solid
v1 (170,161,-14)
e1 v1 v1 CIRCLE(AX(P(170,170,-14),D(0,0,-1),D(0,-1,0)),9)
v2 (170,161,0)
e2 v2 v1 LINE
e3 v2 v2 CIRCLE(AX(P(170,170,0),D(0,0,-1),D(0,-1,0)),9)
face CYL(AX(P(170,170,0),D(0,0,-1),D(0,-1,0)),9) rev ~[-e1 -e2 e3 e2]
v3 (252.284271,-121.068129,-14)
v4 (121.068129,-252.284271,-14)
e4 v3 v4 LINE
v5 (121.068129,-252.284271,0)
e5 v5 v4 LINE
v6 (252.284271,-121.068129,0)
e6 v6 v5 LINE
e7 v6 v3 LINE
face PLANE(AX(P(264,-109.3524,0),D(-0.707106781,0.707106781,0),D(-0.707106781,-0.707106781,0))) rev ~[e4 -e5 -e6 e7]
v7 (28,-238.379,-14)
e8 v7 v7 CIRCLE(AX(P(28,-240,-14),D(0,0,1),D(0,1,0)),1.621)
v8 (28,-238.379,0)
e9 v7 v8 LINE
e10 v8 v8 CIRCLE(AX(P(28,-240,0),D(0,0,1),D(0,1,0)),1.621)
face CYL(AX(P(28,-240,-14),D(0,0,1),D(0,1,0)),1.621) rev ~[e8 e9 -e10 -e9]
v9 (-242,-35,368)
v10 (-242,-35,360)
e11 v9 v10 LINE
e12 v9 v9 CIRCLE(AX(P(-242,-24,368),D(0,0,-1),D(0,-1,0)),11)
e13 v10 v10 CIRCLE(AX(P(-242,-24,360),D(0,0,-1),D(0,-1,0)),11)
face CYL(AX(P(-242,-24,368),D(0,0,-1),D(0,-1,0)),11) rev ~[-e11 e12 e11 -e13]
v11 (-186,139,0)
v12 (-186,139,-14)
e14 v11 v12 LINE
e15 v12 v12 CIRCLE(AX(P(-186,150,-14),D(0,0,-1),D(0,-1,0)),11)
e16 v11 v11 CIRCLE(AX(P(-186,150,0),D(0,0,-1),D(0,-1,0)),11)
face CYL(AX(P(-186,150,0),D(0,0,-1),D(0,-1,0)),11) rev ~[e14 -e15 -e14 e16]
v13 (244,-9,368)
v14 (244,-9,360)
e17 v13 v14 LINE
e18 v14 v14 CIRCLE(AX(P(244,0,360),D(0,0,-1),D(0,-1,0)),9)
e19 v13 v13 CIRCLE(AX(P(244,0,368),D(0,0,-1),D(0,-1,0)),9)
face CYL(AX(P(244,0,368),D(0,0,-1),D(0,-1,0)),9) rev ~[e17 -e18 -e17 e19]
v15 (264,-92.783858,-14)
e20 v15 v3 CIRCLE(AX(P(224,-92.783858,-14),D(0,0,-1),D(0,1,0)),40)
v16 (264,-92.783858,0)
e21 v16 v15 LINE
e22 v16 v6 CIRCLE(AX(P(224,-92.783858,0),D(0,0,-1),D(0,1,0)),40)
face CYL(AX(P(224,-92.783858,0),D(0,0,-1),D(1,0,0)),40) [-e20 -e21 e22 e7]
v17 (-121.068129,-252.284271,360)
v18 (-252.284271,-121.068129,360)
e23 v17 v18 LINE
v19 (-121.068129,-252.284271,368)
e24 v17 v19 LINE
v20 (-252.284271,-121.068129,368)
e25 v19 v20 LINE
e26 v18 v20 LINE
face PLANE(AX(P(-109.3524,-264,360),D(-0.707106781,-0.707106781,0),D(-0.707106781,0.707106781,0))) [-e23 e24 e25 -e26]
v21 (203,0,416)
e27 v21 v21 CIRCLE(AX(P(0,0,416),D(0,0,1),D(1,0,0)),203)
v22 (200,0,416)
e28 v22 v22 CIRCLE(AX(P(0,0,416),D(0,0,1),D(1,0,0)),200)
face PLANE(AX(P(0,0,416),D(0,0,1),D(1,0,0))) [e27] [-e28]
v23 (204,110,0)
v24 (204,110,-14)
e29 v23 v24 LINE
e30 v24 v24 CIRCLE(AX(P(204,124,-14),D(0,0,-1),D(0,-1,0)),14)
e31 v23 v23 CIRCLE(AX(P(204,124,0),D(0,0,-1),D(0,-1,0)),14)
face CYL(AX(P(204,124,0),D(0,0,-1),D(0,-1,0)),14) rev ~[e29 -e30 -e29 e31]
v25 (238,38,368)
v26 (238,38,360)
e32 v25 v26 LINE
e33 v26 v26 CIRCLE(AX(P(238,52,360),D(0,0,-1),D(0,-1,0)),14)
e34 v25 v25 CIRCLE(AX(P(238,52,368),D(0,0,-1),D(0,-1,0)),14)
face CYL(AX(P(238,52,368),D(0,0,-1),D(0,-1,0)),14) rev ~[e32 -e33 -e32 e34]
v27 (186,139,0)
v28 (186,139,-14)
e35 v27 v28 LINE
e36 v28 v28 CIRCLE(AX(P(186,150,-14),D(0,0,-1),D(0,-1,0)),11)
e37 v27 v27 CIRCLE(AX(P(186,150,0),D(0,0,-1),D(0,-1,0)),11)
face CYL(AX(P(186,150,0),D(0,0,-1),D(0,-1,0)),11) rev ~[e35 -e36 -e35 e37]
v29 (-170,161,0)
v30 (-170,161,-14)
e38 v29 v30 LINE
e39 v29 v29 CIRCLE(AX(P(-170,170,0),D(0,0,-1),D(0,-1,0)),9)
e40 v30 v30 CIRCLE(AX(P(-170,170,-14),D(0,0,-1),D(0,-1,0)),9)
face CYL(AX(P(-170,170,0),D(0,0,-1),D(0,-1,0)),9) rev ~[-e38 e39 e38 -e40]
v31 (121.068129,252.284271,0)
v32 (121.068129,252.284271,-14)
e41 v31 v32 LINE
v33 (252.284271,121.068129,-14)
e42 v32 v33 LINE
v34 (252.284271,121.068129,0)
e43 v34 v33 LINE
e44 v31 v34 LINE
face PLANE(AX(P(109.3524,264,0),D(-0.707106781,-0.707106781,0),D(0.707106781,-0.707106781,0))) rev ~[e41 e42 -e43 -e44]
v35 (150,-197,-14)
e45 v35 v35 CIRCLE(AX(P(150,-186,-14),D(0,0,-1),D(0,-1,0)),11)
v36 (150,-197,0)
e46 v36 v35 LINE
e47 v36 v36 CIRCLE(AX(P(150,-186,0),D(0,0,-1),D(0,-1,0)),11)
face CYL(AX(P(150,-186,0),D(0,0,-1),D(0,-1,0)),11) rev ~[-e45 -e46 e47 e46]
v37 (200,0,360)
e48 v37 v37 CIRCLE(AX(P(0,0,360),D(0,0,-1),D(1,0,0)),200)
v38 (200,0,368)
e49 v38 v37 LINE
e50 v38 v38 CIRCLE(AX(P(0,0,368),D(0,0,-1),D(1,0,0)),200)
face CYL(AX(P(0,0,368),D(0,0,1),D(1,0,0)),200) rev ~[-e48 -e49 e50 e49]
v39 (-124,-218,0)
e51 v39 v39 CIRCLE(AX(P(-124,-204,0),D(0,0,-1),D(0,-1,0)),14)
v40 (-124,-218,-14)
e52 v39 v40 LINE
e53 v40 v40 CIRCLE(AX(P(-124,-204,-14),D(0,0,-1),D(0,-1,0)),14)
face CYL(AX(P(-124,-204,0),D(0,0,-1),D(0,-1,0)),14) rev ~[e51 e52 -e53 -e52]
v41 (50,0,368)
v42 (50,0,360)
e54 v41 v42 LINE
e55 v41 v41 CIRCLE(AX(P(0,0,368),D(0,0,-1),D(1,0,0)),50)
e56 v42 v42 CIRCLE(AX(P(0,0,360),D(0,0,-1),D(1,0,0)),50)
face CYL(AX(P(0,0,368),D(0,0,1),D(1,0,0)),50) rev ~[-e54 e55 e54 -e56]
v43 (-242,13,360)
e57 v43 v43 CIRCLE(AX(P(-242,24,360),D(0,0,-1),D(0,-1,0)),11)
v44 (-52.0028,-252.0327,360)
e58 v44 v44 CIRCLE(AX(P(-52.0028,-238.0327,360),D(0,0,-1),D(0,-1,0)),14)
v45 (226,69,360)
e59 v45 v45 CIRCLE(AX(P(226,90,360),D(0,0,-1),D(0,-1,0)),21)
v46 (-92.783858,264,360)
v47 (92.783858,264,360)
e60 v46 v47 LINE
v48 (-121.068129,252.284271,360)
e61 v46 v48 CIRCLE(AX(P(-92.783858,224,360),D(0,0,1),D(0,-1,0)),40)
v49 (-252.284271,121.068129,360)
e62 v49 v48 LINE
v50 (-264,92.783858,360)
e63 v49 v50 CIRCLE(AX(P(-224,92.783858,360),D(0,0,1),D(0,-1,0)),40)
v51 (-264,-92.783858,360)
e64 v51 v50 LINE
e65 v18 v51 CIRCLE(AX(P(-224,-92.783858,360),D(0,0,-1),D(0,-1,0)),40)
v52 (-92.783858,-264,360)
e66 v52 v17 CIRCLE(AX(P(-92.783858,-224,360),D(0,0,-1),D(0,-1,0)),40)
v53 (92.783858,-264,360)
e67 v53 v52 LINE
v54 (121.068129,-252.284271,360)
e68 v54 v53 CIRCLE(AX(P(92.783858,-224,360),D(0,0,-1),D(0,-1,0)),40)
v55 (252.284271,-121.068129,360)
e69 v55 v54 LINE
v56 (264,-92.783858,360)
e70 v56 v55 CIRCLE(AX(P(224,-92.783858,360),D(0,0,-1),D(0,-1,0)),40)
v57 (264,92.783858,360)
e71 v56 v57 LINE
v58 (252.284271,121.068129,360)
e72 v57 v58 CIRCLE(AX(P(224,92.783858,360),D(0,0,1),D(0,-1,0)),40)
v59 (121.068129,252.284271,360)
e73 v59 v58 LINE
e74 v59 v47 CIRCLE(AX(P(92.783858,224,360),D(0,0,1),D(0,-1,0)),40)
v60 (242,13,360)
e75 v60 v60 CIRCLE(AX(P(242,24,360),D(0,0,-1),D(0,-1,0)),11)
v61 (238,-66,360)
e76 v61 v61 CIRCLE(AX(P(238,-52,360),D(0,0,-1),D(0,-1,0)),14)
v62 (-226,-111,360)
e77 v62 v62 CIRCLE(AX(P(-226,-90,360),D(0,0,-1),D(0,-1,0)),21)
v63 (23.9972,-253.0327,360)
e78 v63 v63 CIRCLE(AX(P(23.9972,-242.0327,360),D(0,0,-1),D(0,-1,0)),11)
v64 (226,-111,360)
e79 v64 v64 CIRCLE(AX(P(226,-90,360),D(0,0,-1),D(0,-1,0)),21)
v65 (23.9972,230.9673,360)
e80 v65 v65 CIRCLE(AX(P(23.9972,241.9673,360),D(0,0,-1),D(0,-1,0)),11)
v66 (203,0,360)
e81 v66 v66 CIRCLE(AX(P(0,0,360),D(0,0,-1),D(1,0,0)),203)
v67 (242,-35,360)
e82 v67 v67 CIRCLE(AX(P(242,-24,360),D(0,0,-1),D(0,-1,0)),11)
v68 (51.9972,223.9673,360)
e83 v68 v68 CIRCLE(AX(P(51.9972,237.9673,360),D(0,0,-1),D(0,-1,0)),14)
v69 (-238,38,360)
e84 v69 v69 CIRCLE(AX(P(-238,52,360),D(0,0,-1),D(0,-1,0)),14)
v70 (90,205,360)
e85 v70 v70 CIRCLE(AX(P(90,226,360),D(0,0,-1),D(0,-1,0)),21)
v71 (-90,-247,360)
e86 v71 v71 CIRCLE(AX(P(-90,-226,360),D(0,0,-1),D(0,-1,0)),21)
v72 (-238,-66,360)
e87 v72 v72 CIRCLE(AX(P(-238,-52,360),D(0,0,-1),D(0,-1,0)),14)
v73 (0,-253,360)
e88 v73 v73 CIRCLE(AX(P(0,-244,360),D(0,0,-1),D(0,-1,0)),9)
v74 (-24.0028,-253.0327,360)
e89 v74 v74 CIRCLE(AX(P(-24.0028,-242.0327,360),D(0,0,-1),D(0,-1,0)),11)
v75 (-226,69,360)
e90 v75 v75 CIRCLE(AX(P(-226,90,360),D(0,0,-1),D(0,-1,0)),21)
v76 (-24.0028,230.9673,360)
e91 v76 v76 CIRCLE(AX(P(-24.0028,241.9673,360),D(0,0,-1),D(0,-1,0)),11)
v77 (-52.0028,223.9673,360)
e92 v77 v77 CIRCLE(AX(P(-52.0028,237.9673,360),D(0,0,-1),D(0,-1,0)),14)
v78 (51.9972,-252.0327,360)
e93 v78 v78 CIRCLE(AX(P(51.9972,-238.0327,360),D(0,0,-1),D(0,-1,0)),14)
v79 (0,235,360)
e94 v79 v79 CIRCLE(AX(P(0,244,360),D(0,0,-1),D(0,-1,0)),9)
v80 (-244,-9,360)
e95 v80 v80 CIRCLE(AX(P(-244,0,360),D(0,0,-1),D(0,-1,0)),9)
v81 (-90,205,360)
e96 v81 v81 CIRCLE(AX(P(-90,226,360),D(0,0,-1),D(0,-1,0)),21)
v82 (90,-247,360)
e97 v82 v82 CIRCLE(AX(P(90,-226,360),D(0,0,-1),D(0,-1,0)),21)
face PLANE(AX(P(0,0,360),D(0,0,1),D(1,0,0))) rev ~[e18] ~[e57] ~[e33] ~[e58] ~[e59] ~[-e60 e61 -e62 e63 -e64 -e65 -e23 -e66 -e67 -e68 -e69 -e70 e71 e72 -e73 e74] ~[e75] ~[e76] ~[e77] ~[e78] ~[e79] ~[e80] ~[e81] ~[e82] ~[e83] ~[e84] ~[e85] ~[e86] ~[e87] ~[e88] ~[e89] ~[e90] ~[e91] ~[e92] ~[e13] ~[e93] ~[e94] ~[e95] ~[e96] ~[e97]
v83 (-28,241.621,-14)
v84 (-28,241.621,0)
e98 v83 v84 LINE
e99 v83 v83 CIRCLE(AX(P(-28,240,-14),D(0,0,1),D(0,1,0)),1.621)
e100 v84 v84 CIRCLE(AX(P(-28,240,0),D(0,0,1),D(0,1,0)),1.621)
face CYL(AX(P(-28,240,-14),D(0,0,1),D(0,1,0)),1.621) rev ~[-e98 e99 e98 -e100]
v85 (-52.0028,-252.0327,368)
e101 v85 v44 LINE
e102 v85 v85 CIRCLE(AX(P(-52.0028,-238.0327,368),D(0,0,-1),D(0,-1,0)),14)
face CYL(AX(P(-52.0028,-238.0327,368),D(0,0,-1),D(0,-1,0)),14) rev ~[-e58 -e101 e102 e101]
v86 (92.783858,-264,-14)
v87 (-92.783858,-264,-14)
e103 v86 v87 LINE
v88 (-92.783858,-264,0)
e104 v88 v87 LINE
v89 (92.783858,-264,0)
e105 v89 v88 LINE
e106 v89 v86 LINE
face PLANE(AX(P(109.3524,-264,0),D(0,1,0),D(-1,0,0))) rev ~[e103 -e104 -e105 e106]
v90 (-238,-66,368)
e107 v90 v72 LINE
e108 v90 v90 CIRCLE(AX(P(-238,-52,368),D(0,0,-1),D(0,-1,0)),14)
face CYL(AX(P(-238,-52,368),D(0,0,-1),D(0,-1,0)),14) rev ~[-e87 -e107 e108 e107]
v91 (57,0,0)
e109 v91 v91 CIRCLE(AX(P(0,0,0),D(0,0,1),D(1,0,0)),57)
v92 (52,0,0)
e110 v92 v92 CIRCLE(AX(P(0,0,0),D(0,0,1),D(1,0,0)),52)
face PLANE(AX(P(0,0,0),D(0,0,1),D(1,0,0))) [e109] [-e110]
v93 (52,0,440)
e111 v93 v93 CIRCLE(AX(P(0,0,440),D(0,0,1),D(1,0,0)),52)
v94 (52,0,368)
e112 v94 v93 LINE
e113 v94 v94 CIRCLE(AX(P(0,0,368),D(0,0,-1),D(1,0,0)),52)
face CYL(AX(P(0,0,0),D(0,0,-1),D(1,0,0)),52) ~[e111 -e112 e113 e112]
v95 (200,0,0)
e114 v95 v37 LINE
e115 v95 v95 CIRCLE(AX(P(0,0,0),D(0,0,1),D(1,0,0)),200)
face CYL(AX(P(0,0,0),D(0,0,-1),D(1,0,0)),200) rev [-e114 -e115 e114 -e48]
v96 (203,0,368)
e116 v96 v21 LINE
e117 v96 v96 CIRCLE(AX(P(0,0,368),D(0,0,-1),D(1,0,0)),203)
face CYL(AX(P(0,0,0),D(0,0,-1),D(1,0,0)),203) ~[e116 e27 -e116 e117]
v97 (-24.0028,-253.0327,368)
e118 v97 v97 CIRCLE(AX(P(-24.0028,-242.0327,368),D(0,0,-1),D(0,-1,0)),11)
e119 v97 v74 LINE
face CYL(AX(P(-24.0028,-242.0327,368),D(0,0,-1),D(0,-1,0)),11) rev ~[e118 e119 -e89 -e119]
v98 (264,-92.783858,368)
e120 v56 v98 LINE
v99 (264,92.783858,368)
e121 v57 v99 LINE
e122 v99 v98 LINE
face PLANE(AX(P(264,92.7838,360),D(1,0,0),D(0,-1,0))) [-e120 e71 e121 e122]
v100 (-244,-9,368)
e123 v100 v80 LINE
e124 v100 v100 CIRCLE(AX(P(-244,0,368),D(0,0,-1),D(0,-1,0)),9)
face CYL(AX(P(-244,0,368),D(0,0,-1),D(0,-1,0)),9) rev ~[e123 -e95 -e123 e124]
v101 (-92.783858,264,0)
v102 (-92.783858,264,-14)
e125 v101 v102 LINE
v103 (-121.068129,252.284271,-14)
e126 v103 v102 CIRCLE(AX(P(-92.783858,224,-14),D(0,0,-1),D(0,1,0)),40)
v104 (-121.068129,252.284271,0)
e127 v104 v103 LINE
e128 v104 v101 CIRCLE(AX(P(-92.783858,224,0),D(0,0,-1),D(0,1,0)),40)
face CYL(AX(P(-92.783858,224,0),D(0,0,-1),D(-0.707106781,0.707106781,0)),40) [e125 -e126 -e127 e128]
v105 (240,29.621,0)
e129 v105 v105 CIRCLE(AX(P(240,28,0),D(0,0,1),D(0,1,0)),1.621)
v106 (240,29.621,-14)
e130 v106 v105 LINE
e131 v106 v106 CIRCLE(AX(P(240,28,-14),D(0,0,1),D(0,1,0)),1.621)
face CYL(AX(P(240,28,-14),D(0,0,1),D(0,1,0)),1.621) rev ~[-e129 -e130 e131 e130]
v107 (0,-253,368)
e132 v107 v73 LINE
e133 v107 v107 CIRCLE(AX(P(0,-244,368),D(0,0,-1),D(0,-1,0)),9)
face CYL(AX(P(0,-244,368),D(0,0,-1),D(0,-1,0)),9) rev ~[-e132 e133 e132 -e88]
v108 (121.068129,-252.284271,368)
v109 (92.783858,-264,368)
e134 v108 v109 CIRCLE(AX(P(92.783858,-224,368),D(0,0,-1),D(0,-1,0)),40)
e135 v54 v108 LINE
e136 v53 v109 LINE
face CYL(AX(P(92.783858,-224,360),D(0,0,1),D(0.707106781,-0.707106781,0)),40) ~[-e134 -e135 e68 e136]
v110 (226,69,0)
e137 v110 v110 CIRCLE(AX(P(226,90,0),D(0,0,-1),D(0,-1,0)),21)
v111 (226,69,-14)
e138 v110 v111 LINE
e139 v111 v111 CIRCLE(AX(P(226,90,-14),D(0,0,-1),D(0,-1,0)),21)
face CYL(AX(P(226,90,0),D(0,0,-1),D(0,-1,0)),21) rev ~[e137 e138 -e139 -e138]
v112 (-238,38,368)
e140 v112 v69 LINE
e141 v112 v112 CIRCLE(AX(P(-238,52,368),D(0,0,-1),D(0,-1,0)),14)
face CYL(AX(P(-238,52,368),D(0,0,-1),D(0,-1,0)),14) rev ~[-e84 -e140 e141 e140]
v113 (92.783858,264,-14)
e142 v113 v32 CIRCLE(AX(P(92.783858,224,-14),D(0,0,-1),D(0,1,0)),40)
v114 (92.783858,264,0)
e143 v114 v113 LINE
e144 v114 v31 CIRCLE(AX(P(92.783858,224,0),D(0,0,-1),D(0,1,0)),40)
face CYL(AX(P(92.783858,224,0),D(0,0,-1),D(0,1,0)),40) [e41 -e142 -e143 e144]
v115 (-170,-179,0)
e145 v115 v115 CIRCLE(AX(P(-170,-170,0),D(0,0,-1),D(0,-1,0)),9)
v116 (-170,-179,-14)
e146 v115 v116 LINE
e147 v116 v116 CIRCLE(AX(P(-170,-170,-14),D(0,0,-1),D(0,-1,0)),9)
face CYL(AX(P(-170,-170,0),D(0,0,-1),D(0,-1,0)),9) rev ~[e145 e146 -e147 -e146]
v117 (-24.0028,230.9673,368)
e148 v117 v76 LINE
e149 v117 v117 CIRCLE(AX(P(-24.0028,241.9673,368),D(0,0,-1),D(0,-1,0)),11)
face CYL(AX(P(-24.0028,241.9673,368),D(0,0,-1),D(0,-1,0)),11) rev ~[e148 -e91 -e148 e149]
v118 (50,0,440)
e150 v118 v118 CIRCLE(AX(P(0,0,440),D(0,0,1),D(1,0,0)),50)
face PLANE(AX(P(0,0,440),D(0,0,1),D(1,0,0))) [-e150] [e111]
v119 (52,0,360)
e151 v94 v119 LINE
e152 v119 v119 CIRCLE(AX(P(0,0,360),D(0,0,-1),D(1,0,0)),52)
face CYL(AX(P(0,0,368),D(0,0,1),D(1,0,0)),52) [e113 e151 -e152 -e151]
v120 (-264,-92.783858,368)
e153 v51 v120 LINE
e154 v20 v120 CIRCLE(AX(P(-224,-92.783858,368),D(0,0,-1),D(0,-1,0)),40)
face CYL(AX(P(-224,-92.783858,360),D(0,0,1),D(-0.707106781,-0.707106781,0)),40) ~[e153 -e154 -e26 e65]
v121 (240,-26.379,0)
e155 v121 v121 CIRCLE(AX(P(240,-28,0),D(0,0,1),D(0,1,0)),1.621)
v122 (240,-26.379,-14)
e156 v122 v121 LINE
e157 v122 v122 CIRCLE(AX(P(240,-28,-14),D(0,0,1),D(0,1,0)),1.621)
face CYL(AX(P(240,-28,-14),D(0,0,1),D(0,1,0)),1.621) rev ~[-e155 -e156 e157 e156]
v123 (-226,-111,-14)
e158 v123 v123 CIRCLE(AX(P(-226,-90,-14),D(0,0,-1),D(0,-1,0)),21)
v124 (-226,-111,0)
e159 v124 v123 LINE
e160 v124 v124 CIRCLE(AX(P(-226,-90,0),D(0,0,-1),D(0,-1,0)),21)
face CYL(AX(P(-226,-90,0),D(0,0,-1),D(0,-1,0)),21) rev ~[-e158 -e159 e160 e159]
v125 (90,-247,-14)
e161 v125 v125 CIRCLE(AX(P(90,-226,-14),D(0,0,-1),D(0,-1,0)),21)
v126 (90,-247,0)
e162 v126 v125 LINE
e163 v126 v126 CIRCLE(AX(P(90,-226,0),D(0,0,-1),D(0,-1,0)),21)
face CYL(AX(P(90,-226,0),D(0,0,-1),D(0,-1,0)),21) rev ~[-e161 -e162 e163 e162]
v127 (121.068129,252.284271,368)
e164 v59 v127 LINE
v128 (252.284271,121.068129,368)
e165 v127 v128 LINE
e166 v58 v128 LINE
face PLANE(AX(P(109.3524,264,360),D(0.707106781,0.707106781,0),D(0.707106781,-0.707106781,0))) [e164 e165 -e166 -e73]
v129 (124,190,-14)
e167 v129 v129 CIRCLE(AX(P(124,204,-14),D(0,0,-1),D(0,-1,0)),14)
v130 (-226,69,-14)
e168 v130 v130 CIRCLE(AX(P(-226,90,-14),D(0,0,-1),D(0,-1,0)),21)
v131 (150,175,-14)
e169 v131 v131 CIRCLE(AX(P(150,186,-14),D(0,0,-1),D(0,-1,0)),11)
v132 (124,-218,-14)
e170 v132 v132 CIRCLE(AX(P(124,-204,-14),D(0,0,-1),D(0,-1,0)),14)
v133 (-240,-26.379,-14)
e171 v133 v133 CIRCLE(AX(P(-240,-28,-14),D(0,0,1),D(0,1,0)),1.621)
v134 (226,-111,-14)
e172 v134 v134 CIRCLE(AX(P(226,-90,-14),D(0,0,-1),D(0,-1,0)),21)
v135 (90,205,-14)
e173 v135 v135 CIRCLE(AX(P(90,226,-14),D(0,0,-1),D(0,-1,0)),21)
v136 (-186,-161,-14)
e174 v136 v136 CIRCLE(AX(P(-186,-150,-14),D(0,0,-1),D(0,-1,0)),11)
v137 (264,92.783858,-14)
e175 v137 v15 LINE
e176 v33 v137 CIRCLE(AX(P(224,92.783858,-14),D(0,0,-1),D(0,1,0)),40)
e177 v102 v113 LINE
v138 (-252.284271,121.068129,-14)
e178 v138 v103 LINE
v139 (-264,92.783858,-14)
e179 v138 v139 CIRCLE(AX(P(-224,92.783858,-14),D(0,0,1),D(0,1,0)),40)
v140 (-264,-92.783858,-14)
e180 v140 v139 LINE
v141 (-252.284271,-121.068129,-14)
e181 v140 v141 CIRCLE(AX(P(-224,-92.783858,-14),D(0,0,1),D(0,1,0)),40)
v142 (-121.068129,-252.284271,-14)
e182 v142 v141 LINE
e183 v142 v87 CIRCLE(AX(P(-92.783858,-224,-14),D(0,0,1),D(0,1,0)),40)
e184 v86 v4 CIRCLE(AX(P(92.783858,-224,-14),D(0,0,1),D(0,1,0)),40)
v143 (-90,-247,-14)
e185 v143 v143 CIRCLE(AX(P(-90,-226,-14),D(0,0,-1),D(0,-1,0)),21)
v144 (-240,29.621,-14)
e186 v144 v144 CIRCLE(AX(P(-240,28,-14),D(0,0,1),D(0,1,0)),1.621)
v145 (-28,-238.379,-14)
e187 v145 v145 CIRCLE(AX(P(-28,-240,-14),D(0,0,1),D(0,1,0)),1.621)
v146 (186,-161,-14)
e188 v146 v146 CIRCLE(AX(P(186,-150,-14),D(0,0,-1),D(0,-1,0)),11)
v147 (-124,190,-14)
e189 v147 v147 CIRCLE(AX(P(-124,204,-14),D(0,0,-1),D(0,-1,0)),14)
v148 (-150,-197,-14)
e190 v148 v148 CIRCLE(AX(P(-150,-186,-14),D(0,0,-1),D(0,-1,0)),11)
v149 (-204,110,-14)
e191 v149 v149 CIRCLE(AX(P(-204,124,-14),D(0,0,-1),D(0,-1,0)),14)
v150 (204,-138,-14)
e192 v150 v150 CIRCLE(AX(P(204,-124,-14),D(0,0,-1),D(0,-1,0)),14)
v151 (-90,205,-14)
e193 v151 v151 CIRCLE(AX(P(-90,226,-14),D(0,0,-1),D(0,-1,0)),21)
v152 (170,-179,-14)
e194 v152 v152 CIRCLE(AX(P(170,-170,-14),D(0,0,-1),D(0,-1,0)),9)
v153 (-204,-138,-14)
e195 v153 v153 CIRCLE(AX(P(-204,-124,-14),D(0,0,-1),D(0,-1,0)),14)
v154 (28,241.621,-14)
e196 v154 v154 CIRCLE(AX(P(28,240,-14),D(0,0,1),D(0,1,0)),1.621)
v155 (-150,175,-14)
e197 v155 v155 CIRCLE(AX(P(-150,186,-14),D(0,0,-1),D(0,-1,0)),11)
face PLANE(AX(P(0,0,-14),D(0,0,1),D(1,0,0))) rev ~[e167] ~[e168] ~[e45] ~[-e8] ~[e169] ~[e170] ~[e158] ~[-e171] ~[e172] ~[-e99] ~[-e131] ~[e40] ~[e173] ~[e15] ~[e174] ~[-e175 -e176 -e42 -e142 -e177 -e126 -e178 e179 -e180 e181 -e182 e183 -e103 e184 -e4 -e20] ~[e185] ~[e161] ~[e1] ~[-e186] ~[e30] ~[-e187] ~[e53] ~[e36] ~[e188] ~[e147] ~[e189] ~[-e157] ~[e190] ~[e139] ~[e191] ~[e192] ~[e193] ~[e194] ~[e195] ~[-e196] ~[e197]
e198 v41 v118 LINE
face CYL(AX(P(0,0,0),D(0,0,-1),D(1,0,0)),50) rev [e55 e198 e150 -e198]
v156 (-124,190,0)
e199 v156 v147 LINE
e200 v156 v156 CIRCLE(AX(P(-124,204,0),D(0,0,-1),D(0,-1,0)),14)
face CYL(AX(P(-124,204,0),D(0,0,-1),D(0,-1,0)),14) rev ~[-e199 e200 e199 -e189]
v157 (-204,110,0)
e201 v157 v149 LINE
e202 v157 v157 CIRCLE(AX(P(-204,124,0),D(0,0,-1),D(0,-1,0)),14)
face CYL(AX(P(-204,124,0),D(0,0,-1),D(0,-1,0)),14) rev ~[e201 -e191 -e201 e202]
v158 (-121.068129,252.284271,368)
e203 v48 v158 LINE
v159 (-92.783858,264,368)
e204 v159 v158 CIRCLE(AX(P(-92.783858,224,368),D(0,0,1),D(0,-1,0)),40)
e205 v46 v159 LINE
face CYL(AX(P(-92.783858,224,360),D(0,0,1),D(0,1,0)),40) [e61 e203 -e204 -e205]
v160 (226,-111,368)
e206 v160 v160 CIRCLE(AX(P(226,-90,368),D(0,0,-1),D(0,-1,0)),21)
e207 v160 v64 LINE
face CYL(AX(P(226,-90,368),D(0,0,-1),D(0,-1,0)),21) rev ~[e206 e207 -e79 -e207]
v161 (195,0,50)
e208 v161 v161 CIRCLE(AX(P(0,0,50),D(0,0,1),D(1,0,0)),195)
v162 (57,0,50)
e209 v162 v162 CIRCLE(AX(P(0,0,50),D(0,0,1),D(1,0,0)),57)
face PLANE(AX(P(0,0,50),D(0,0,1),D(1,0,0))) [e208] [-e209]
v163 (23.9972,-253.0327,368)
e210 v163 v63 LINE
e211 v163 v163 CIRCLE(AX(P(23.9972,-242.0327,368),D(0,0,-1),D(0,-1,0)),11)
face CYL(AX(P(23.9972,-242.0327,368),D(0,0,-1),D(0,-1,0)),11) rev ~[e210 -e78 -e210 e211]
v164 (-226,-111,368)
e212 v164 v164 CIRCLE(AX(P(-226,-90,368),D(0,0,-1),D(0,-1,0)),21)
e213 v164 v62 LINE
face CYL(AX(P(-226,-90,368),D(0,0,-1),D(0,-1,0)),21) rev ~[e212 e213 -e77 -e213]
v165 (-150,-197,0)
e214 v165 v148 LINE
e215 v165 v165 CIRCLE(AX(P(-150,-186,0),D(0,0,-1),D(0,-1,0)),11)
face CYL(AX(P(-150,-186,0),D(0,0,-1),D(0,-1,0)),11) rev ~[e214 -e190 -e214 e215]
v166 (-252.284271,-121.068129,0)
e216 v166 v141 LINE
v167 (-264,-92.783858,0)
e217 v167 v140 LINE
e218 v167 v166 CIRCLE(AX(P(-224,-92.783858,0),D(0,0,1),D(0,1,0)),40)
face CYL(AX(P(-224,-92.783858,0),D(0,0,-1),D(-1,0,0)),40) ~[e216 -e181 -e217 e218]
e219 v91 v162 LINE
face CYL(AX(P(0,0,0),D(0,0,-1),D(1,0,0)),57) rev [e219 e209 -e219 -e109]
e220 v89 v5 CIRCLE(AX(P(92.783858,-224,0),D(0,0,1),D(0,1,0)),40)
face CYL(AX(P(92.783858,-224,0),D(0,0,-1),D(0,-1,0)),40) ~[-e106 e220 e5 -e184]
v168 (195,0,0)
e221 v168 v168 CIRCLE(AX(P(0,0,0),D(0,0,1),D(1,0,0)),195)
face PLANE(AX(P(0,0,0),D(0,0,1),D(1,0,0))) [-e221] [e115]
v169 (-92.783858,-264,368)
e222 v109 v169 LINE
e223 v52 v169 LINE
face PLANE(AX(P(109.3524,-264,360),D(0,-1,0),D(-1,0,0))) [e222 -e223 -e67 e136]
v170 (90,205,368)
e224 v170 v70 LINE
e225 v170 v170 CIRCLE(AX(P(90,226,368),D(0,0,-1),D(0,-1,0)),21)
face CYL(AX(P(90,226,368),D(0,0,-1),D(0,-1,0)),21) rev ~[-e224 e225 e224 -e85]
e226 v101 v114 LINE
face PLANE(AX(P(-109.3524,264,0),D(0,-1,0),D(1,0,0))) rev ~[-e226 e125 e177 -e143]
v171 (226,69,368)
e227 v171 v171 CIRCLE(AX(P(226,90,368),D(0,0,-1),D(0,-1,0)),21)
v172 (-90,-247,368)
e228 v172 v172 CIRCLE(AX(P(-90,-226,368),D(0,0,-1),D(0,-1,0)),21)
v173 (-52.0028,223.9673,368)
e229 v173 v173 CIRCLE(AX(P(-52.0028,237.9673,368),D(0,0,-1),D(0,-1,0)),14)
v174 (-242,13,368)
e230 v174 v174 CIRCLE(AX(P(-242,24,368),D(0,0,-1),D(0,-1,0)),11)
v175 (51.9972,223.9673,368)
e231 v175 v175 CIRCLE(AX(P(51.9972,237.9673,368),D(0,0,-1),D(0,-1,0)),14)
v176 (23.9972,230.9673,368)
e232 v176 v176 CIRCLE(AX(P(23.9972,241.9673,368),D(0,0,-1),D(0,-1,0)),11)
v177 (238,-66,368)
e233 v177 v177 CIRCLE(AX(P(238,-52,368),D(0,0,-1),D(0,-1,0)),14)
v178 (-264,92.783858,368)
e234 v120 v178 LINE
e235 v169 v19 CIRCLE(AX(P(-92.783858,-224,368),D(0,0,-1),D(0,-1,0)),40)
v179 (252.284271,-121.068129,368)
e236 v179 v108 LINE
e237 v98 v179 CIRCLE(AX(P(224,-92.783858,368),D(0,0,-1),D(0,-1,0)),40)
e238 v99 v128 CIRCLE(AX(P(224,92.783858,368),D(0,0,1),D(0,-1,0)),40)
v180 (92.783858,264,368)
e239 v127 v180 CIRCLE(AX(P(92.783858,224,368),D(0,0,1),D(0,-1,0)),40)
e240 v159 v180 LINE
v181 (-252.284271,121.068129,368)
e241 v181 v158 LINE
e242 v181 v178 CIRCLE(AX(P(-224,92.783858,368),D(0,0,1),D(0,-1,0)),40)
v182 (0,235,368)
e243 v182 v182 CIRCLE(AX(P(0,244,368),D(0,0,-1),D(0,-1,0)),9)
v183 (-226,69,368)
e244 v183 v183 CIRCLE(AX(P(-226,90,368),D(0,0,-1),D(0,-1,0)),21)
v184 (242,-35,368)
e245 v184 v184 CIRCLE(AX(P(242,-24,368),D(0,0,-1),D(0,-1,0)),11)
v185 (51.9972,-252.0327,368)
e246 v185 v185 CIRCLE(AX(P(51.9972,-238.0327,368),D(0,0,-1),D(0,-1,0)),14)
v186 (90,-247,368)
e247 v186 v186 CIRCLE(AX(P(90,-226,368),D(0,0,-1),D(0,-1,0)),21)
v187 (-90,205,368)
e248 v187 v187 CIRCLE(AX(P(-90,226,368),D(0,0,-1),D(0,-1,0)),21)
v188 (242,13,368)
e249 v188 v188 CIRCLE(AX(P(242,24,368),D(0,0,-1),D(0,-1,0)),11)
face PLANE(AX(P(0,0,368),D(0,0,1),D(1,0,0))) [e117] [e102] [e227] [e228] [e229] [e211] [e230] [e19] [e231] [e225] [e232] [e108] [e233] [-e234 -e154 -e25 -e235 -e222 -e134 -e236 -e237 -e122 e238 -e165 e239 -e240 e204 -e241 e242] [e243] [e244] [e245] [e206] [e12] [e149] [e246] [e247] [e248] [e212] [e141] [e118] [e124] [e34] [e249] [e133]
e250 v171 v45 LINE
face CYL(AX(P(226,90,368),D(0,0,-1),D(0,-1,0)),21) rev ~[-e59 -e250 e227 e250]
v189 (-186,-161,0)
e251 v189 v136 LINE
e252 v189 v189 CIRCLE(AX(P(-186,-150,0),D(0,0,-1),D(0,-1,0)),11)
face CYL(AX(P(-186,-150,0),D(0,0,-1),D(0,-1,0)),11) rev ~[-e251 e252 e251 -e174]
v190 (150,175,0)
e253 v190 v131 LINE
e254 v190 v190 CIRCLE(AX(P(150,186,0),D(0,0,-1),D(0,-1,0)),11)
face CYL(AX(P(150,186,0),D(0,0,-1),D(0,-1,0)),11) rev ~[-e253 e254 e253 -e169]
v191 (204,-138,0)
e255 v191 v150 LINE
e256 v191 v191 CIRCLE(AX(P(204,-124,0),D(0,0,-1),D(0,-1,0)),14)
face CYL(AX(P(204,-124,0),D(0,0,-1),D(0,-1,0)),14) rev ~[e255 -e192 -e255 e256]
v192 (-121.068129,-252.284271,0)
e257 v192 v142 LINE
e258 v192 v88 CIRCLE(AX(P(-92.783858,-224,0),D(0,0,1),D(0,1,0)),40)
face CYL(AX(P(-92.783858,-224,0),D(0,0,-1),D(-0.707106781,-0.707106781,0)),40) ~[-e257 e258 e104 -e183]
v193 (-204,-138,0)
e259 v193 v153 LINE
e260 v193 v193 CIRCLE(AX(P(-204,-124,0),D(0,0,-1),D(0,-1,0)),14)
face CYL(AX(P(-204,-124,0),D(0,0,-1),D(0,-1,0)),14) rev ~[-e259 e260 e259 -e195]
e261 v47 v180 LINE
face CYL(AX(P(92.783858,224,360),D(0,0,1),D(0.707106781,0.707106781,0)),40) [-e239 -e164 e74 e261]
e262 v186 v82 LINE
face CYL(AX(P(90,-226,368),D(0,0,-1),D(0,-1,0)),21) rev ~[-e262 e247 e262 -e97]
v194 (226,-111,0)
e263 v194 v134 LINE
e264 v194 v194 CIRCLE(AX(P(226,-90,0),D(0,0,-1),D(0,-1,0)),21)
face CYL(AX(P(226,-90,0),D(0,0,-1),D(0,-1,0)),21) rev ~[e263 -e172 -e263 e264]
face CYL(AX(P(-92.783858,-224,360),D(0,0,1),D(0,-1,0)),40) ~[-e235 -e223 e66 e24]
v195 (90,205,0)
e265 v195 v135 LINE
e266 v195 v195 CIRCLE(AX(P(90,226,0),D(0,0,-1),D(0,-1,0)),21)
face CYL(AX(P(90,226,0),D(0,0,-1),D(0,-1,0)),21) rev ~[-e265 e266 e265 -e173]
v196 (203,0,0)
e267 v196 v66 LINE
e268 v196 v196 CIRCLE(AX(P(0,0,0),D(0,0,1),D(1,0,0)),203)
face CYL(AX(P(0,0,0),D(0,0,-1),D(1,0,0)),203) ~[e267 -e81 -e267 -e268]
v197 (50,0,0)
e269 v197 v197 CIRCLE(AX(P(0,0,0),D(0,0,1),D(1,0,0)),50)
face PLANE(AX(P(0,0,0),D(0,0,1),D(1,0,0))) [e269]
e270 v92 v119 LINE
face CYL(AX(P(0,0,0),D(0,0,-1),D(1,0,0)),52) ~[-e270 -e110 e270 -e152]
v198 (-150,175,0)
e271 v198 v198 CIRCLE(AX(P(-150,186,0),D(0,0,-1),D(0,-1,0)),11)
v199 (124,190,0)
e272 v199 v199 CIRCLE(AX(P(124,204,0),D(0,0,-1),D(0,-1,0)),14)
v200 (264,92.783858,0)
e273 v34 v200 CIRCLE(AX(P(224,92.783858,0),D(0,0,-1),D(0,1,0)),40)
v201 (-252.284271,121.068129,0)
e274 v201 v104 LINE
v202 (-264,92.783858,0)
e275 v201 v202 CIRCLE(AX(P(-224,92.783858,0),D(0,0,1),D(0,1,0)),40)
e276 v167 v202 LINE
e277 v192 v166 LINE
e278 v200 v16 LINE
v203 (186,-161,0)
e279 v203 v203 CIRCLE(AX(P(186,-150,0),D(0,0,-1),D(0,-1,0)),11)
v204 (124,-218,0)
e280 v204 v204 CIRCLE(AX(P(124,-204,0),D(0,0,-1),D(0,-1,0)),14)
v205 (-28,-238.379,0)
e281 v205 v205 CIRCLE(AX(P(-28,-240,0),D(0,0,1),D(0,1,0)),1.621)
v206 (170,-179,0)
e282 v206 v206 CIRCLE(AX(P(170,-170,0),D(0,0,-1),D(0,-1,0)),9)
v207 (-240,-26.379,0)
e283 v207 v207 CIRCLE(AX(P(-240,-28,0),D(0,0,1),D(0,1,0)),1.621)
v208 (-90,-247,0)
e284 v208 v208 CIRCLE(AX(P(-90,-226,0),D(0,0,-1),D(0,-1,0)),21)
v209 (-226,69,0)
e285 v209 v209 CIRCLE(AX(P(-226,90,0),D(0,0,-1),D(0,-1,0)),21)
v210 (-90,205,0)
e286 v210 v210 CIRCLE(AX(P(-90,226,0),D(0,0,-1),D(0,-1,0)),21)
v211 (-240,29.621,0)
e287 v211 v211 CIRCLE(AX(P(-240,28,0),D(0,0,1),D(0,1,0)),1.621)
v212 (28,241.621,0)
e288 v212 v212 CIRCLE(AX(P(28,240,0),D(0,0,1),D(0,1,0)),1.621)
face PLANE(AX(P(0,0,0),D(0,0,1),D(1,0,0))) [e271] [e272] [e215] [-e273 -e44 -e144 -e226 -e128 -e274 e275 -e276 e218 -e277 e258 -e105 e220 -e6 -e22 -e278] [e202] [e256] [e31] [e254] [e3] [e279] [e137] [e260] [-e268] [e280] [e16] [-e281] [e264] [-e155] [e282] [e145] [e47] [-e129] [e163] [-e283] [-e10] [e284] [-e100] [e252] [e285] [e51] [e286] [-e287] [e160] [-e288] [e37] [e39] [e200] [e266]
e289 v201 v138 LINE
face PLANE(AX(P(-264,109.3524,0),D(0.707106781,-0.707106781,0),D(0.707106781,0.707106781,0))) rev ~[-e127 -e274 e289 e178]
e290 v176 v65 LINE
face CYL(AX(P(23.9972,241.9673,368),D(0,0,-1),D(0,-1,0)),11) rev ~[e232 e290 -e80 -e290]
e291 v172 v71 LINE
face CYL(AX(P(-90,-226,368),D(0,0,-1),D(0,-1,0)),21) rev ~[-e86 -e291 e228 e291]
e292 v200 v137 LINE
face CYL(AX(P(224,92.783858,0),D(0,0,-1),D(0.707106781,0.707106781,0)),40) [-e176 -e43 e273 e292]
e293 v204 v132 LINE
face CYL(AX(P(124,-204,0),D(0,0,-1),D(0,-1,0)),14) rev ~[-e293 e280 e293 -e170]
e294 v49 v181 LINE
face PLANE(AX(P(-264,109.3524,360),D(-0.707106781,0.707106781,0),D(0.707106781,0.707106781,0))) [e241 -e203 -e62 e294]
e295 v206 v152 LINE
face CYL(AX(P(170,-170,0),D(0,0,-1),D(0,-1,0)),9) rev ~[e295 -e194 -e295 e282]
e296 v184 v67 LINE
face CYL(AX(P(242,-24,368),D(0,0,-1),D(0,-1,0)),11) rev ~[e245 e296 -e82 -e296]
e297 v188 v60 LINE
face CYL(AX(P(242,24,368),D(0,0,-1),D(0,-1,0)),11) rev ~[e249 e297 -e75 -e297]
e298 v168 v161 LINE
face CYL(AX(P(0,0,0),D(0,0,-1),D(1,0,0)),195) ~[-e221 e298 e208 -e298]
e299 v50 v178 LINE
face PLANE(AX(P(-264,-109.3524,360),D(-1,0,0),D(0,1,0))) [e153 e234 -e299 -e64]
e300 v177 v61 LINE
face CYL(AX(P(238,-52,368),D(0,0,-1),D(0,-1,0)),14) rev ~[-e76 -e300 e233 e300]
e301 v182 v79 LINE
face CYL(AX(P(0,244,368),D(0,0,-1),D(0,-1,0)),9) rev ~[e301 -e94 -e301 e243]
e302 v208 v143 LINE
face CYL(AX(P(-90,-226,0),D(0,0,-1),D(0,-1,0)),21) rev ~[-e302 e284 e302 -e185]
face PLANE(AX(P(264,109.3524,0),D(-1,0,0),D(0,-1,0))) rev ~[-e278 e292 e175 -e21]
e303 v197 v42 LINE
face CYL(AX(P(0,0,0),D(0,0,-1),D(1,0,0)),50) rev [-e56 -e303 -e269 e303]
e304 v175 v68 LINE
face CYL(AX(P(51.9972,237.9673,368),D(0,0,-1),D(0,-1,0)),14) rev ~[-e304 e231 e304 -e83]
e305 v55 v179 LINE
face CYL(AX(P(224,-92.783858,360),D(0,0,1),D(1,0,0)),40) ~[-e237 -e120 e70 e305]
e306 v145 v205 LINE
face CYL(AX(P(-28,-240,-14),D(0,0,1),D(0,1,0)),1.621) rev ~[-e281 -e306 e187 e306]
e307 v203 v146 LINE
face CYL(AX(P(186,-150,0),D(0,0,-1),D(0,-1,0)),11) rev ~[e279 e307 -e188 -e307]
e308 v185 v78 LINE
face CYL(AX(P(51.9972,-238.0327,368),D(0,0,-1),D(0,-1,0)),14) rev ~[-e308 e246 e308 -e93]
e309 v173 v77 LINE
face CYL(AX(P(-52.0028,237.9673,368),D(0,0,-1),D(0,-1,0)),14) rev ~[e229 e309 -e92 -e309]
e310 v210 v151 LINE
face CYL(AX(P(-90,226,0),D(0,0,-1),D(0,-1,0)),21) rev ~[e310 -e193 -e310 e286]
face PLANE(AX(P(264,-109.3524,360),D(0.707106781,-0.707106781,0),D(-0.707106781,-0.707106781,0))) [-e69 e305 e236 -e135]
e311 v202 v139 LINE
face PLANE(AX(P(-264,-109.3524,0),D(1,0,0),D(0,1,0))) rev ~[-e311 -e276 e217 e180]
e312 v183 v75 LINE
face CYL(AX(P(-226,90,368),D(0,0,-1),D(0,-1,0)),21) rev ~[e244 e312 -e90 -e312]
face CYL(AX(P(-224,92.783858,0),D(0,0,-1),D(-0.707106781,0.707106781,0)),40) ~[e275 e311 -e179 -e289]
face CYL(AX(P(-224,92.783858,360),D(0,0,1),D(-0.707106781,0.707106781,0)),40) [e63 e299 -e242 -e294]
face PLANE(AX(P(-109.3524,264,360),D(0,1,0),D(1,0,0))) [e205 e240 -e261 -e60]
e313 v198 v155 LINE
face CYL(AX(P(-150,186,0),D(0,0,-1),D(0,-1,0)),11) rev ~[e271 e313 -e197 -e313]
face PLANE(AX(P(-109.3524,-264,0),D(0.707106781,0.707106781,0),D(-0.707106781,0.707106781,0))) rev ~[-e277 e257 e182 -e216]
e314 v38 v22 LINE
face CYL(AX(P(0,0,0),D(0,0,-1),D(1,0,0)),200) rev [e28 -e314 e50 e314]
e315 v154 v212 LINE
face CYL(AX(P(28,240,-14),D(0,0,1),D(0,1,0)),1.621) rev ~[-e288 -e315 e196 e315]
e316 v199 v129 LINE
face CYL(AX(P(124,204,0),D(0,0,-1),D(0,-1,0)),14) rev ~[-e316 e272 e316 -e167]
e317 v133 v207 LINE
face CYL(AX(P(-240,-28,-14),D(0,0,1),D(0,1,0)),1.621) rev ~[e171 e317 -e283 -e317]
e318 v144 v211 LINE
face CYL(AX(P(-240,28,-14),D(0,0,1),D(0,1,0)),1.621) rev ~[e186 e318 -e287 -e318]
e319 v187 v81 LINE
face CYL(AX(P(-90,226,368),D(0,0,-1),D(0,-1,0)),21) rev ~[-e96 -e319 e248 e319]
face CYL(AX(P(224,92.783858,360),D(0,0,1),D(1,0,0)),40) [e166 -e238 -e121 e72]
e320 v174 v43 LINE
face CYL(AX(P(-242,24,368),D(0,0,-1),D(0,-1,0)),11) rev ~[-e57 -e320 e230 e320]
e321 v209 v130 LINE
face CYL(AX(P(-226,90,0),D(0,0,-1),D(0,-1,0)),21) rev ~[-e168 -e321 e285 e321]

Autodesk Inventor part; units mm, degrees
ref_plane "YZ Plane" through (0, 0, 0) normal (1, 0, 0) x (0, 1, 0)
sketch "Sketch1" plane through (0, 0, 0) normal (0, 0, 1) x (1, 0, 0)
  line L0 (-264, 109.3524) -> (-109.3524, 264)
  line L1 (-109.3524, 264) -> (109.3524, 264)
  line L2 (109.3524, 264) -> (264, 109.3524)
  line L3 (264, 109.3524) -> (264, -109.3524)
  line L4 (264, -109.3524) -> (109.3524, -264)
  line L5 (109.3524, -264) -> (-109.3524, -264)
  line L6 (-109.3524, -264) -> (-264, -109.3524)
  line L7 (-264, -109.3524) -> (-264, 109.3524)
  point P0 (0, 0)
  point P1 (0, 0)
extrude "Extrusion1" add sketch "Sketch1" against normal blind 14
sketch "Backplate" plane through (0, 0, 0) normal (0, 0, 1) x (1, 0, 0)
  circle A0 centre (0, 0) radius 203
  circle A1 centre (0, 0) radius 200
  circle A2 centre (-170, 170) radius 9
  circle A3 centre (-186, 150) radius 11
  circle A4 centre (-150, 186) radius 11
  circle A5 centre (-124, 204) radius 14
  circle A6 centre (-204, 124) radius 14
  circle A7 centre (-90, 226) radius 21
  circle A8 centre (-226, 90) radius 21
  line L0 (0, 281) -> (0, -280.0278) construction
  line L1 (-109.3524, 264) -> (109.3524, 264) construction
  line L2 (-280, 0) -> (280, 0) construction
  circle A9 centre (-226, -90) radius 21
  circle A10 centre (-204, -124) radius 14
  circle A11 centre (-186, -150) radius 11
  circle A12 centre (-170, -170) radius 9
  circle A13 centre (-150, -186) radius 11
  circle A14 centre (-124, -204) radius 14
  circle A15 centre (-90, -226) radius 21
  circle A16 centre (226, 90) radius 21
  circle A17 centre (204, 124) radius 14
  circle A18 centre (186, 150) radius 11
  circle A19 centre (170, 170) radius 9
  circle A20 centre (150, 186) radius 11
  circle A21 centre (124, 204) radius 14
  circle A22 centre (90, 226) radius 21
  line L3 (109.3524, 264) -> (-109.3524, 264) construction
  circle A23 centre (204, -124) radius 14
  circle A24 centre (186, -150) radius 11
  circle A25 centre (170, -170) radius 9
  circle A26 centre (150, -186) radius 11
  circle A27 centre (226, -90) radius 21
  circle A28 centre (124, -204) radius 14
  circle A29 centre (90, -226) radius 21
  circle A30 centre (0, 0) radius 50
  circle A31 centre (0, 0) radius 52
  circle A32 centre (0, 0) radius 57
  circle A33 centre (0, 0) radius 195
  point P0 (-109.3524, -264)
  point P1 (109.3524, -264)
extrude "Extrusion2" add sketch "Backplate" along normal blind 416 contours A0
extrude "Extrusion3" add sketch "Backplate" along normal blind 440 contours A31
extrude "Extrusion4" add sketch "Backplate" along normal blind 50 contours A33
hole "Hole1" at (-226, -90, 0) at (-226, 90, 0) at (-90, 226, 0) at (90, 226, 0) at (226, 90, 0) at (226, -90, 0) at (90, -226, 0) at (-90, -226, 0) direction (0, 0, -1) diameter 42 end through all
hole "Hole2" at (-204, 124, 0) at (-124, 204, 0) at (124, 204, 0) at (204, 124, 0) at (-124, -204, 0) at (-204, -124, 0) direction (0, 0, -1) diameter 28 end through all
hole "Hole3" at (-90, 226, 0) at (-150, 186, 0) at (-150, -186, 0) at (150, -186, 0) at (150, 186, 0) at (-186, 150, 0) at (186, 150, 0) at (-186, -150, 0) at (186, -150, 0) direction (0, 0, -1) diameter 22 end through all
hole "Hole4" at (124, -204, 0) at (204, -124, 0) direction (0, 0, -1) diameter 28 end through all
hole "Hole5" at (-170, -170, 0) at (-170, 170, 0) at (170, 170, 0) at (170, -170, 0) direction (0, 0, -1) diameter 18 end through all
fillet "Fillet1" radius 40 8 edges at (264, -109.3524, -7) (109.3524, -264, -7) (-109.3524, -264, -7) (-264, -109.3524, -7) (-264, 109.3524, -7) (-109.3524, 264, -7) (109.3524, 264, -7) (264, 109.3524, -7)
ref_plane "Work Plane1" through (0, 0, 360) normal (0, 0, 1) x (1, 0, 0)
sketch "Sketch3" plane through (0, 0, 360) normal (0, 0, 1) x (1, 0, 0)
  line L0 (264, 92.7838) -> (264, -92.7838) projected
  line L1 (264, -109.3524) -> (109.3524, -264)
  line L2 (109.3524, -264) -> (-109.3524, -264)
  line L3 (-109.3524, -264) -> (-264, -109.3524)
  line L4 (-264, -109.3524) -> (-264, 109.3524)
  line L5 (-264, 109.3524) -> (-109.3524, 264)
  line L6 (-109.3524, 264) -> (109.3524, 264)
  line L7 (109.3524, 264) -> (264, 109.3524)
  line L8 (264, 109.3524) -> (264, -109.3524)
  point P0 (0, 0)
  point P1 (0, 0)
  point P2 (264, 0)
  point P3 (264, -92.7838)
extrude "Extrusion5" add sketch "Sketch3" along normal blind 8
fillet "Fillet2" radius 40 8 edges at (-109.3524, 264, 364) (-264, 109.3524, 364) (-264, -109.3524, 364) (-109.3524, -264, 364) (109.3524, -264, 364) (264, -109.3524, 364) (264, 109.3524, 364) (109.3524, 264, 364)
ref_plane "Work Plane2" through (0, 0, 368) normal (0, 0, 1) x (1, 0, 0)
sketch "Frontplate" plane through (0, 0, 368) normal (0, 0, 1) x (1, 0, 0)
  circle A0 centre (-226, 90) radius 21
  circle A1 centre (-90, 226) radius 21
  line L0 (0, 321) -> (0, -319) construction
  line L1 (-319, 0) -> (310, 0) construction
  circle A2 centre (-90, -226) radius 21
  circle A3 centre (-226, -90) radius 21
  circle A4 centre (90, 226) radius 21
  circle A5 centre (226, 90) radius 21
  circle A6 centre (90, -226) radius 21
  circle A7 centre (226, -90) radius 21
  circle A8 centre (0, 0) radius 200
  circle A9 centre (0, 0) radius 52
  circle A10 centre (0, 0) radius 200
  circle A11 centre (0, 0) radius 213
  circle A12 centre (238, -52) radius 14
  circle A13 centre (242, -24) radius 11
  circle A14 centre (244, 0) radius 9
  circle A15 centre (242, 24) radius 11
  circle A16 centre (238, 52) radius 14
  circle A17 centre (-238, -52) radius 14
  circle A18 centre (-242, -24) radius 11
  circle A19 centre (-244, 0) radius 9
  circle A20 centre (-242, 24) radius 11
  circle A21 centre (-238, 52) radius 14
  circle A22 centre (-52.0028, -238.0327) radius 14
  circle A23 centre (-24.0028, -242.0327) radius 11
  circle A24 centre (0, -244) radius 9
  circle A25 centre (23.9972, -242.0327) radius 11
  circle A26 centre (51.9972, -238.0327) radius 14
  circle A27 centre (51.9972, 237.9673) radius 14
  circle A28 centre (23.9972, 241.9673) radius 11
  circle A29 centre (0, 244) radius 9
  circle A30 centre (-24.0028, 241.9673) radius 11
  circle A31 centre (-52.0028, 237.9673) radius 14
extrude "Extrusion6" cut sketch "Frontplate" against normal up to next contours A8
sketch "Sketch5" plane through (0, 0, 368) normal (0, 0, 1) x (1, 0, 0)
  circle A0 centre (0, 0) radius 50
extrude "Extrusion7" cut sketch "Sketch5" against normal up to next
hole "Hole6" at (-90, 226, 368) at (90, 226, 368) at (-226, 90, 368) at (-226, -90, 368) at (90, -226, 368) at (-90, -226, 368) at (226, -90, 368) at (226, 90, 368) direction (0, 0, -1) diameter 42 end through all
hole "Hole7" at (-52.0028, 237.9673, 368) at (51.9972, 237.9673, 368) at (238, 52, 368) at (238, -52, 368) at (-238, 52, 368) at (-238, -52, 368) at (51.9972, -238.0327, 368) at (-52.0028, -238.0327, 368) direction (0, 0, -1) diameter 28 depth 8
hole "Hole8" at (23.9972, -242.0327, 368) at (-24.0028, -242.0327, 368) at (-242, -24, 368) at (-242, 24, 368) at (242, 24, 368) at (242, -24, 368) at (23.9972, 241.9673, 368) at (-24.0028, 241.9673, 368) direction (0, 0, -1) diameter 22 depth 8
hole "Hole9" at (-244, 0, 368) at (0, -244, 368) at (244, 0, 368) at (0, 244, 368) direction (0, 0, -1) diameter 18 depth 8
sketch "Sketch6" plane through (0, 0, -14) normal (0, 0, -1) x (-1, 0, 0)
  line L0 (-36, 251) -> (36, 251) construction
  line L1 (36, 251) -> (36, 229) construction
  line L2 (36, 229) -> (-36, 229) construction
  line L3 (-36, 229) -> (-36, 251) construction
  line L4 (-36, 251) -> (36, 229) construction
  line L5 (36, 251) -> (-36, 229) construction
  line L6 (0, -280) -> (0, 301) construction
  line L7 (-282, 0) -> (279, 0) construction
  line L8 (-36, -251) -> (36, -251) construction
  line L9 (36, -251) -> (36, -229) construction
  line L10 (36, -229) -> (-36, -229) construction
  line L11 (-36, -229) -> (-36, -251) construction
  line L12 (-36, -251) -> (36, -229) construction
  line L13 (36, -251) -> (-36, -229) construction
  line L14 (-251, 36) -> (-229, 36) construction
  line L15 (-229, 36) -> (-229, -36) construction
  line L16 (-229, -36) -> (-251, -36) construction
  line L17 (-251, -36) -> (-251, 36) construction
  line L18 (-251, 36) -> (-229, -36) construction
  line L19 (-229, 36) -> (-251, -36) construction
  line L20 (251, 36) -> (229, 36) construction
  line L21 (229, 36) -> (229, -36) construction
  line L22 (229, -36) -> (251, -36) construction
  line L23 (251, -36) -> (251, 36) construction
  line L24 (251, 36) -> (229, -36) construction
  line L25 (229, 36) -> (251, -36) construction
  point P0 (0, 0)
  point P1 (0, 240)
  point P2 (-28, 240)
  point P3 (28, 240)
  point P4 (0, -240)
  point P5 (-28, -240)
  point P6 (28, -240)
  point P7 (-240, 0)
  point P8 (-240, 28)
  point P9 (-240, -28)
  point P10 (240, 0)
  point P11 (240, 28)
  point P12 (240, -28)
hole "Hole10" at (28, 240, -14) at (-28, -240, -14) at (28, -240, -14) at (240, 28, -14) at (240, -28, -14) at (-240, -28, -14) at (-240, 28, -14) at (-28, 240, -14) direction (0, 0, 1) diameter 3.242 depth 14 thread size "M4x0.7" class "6H" standard "ISO Metric profile"
properties part number "MainMirror"
